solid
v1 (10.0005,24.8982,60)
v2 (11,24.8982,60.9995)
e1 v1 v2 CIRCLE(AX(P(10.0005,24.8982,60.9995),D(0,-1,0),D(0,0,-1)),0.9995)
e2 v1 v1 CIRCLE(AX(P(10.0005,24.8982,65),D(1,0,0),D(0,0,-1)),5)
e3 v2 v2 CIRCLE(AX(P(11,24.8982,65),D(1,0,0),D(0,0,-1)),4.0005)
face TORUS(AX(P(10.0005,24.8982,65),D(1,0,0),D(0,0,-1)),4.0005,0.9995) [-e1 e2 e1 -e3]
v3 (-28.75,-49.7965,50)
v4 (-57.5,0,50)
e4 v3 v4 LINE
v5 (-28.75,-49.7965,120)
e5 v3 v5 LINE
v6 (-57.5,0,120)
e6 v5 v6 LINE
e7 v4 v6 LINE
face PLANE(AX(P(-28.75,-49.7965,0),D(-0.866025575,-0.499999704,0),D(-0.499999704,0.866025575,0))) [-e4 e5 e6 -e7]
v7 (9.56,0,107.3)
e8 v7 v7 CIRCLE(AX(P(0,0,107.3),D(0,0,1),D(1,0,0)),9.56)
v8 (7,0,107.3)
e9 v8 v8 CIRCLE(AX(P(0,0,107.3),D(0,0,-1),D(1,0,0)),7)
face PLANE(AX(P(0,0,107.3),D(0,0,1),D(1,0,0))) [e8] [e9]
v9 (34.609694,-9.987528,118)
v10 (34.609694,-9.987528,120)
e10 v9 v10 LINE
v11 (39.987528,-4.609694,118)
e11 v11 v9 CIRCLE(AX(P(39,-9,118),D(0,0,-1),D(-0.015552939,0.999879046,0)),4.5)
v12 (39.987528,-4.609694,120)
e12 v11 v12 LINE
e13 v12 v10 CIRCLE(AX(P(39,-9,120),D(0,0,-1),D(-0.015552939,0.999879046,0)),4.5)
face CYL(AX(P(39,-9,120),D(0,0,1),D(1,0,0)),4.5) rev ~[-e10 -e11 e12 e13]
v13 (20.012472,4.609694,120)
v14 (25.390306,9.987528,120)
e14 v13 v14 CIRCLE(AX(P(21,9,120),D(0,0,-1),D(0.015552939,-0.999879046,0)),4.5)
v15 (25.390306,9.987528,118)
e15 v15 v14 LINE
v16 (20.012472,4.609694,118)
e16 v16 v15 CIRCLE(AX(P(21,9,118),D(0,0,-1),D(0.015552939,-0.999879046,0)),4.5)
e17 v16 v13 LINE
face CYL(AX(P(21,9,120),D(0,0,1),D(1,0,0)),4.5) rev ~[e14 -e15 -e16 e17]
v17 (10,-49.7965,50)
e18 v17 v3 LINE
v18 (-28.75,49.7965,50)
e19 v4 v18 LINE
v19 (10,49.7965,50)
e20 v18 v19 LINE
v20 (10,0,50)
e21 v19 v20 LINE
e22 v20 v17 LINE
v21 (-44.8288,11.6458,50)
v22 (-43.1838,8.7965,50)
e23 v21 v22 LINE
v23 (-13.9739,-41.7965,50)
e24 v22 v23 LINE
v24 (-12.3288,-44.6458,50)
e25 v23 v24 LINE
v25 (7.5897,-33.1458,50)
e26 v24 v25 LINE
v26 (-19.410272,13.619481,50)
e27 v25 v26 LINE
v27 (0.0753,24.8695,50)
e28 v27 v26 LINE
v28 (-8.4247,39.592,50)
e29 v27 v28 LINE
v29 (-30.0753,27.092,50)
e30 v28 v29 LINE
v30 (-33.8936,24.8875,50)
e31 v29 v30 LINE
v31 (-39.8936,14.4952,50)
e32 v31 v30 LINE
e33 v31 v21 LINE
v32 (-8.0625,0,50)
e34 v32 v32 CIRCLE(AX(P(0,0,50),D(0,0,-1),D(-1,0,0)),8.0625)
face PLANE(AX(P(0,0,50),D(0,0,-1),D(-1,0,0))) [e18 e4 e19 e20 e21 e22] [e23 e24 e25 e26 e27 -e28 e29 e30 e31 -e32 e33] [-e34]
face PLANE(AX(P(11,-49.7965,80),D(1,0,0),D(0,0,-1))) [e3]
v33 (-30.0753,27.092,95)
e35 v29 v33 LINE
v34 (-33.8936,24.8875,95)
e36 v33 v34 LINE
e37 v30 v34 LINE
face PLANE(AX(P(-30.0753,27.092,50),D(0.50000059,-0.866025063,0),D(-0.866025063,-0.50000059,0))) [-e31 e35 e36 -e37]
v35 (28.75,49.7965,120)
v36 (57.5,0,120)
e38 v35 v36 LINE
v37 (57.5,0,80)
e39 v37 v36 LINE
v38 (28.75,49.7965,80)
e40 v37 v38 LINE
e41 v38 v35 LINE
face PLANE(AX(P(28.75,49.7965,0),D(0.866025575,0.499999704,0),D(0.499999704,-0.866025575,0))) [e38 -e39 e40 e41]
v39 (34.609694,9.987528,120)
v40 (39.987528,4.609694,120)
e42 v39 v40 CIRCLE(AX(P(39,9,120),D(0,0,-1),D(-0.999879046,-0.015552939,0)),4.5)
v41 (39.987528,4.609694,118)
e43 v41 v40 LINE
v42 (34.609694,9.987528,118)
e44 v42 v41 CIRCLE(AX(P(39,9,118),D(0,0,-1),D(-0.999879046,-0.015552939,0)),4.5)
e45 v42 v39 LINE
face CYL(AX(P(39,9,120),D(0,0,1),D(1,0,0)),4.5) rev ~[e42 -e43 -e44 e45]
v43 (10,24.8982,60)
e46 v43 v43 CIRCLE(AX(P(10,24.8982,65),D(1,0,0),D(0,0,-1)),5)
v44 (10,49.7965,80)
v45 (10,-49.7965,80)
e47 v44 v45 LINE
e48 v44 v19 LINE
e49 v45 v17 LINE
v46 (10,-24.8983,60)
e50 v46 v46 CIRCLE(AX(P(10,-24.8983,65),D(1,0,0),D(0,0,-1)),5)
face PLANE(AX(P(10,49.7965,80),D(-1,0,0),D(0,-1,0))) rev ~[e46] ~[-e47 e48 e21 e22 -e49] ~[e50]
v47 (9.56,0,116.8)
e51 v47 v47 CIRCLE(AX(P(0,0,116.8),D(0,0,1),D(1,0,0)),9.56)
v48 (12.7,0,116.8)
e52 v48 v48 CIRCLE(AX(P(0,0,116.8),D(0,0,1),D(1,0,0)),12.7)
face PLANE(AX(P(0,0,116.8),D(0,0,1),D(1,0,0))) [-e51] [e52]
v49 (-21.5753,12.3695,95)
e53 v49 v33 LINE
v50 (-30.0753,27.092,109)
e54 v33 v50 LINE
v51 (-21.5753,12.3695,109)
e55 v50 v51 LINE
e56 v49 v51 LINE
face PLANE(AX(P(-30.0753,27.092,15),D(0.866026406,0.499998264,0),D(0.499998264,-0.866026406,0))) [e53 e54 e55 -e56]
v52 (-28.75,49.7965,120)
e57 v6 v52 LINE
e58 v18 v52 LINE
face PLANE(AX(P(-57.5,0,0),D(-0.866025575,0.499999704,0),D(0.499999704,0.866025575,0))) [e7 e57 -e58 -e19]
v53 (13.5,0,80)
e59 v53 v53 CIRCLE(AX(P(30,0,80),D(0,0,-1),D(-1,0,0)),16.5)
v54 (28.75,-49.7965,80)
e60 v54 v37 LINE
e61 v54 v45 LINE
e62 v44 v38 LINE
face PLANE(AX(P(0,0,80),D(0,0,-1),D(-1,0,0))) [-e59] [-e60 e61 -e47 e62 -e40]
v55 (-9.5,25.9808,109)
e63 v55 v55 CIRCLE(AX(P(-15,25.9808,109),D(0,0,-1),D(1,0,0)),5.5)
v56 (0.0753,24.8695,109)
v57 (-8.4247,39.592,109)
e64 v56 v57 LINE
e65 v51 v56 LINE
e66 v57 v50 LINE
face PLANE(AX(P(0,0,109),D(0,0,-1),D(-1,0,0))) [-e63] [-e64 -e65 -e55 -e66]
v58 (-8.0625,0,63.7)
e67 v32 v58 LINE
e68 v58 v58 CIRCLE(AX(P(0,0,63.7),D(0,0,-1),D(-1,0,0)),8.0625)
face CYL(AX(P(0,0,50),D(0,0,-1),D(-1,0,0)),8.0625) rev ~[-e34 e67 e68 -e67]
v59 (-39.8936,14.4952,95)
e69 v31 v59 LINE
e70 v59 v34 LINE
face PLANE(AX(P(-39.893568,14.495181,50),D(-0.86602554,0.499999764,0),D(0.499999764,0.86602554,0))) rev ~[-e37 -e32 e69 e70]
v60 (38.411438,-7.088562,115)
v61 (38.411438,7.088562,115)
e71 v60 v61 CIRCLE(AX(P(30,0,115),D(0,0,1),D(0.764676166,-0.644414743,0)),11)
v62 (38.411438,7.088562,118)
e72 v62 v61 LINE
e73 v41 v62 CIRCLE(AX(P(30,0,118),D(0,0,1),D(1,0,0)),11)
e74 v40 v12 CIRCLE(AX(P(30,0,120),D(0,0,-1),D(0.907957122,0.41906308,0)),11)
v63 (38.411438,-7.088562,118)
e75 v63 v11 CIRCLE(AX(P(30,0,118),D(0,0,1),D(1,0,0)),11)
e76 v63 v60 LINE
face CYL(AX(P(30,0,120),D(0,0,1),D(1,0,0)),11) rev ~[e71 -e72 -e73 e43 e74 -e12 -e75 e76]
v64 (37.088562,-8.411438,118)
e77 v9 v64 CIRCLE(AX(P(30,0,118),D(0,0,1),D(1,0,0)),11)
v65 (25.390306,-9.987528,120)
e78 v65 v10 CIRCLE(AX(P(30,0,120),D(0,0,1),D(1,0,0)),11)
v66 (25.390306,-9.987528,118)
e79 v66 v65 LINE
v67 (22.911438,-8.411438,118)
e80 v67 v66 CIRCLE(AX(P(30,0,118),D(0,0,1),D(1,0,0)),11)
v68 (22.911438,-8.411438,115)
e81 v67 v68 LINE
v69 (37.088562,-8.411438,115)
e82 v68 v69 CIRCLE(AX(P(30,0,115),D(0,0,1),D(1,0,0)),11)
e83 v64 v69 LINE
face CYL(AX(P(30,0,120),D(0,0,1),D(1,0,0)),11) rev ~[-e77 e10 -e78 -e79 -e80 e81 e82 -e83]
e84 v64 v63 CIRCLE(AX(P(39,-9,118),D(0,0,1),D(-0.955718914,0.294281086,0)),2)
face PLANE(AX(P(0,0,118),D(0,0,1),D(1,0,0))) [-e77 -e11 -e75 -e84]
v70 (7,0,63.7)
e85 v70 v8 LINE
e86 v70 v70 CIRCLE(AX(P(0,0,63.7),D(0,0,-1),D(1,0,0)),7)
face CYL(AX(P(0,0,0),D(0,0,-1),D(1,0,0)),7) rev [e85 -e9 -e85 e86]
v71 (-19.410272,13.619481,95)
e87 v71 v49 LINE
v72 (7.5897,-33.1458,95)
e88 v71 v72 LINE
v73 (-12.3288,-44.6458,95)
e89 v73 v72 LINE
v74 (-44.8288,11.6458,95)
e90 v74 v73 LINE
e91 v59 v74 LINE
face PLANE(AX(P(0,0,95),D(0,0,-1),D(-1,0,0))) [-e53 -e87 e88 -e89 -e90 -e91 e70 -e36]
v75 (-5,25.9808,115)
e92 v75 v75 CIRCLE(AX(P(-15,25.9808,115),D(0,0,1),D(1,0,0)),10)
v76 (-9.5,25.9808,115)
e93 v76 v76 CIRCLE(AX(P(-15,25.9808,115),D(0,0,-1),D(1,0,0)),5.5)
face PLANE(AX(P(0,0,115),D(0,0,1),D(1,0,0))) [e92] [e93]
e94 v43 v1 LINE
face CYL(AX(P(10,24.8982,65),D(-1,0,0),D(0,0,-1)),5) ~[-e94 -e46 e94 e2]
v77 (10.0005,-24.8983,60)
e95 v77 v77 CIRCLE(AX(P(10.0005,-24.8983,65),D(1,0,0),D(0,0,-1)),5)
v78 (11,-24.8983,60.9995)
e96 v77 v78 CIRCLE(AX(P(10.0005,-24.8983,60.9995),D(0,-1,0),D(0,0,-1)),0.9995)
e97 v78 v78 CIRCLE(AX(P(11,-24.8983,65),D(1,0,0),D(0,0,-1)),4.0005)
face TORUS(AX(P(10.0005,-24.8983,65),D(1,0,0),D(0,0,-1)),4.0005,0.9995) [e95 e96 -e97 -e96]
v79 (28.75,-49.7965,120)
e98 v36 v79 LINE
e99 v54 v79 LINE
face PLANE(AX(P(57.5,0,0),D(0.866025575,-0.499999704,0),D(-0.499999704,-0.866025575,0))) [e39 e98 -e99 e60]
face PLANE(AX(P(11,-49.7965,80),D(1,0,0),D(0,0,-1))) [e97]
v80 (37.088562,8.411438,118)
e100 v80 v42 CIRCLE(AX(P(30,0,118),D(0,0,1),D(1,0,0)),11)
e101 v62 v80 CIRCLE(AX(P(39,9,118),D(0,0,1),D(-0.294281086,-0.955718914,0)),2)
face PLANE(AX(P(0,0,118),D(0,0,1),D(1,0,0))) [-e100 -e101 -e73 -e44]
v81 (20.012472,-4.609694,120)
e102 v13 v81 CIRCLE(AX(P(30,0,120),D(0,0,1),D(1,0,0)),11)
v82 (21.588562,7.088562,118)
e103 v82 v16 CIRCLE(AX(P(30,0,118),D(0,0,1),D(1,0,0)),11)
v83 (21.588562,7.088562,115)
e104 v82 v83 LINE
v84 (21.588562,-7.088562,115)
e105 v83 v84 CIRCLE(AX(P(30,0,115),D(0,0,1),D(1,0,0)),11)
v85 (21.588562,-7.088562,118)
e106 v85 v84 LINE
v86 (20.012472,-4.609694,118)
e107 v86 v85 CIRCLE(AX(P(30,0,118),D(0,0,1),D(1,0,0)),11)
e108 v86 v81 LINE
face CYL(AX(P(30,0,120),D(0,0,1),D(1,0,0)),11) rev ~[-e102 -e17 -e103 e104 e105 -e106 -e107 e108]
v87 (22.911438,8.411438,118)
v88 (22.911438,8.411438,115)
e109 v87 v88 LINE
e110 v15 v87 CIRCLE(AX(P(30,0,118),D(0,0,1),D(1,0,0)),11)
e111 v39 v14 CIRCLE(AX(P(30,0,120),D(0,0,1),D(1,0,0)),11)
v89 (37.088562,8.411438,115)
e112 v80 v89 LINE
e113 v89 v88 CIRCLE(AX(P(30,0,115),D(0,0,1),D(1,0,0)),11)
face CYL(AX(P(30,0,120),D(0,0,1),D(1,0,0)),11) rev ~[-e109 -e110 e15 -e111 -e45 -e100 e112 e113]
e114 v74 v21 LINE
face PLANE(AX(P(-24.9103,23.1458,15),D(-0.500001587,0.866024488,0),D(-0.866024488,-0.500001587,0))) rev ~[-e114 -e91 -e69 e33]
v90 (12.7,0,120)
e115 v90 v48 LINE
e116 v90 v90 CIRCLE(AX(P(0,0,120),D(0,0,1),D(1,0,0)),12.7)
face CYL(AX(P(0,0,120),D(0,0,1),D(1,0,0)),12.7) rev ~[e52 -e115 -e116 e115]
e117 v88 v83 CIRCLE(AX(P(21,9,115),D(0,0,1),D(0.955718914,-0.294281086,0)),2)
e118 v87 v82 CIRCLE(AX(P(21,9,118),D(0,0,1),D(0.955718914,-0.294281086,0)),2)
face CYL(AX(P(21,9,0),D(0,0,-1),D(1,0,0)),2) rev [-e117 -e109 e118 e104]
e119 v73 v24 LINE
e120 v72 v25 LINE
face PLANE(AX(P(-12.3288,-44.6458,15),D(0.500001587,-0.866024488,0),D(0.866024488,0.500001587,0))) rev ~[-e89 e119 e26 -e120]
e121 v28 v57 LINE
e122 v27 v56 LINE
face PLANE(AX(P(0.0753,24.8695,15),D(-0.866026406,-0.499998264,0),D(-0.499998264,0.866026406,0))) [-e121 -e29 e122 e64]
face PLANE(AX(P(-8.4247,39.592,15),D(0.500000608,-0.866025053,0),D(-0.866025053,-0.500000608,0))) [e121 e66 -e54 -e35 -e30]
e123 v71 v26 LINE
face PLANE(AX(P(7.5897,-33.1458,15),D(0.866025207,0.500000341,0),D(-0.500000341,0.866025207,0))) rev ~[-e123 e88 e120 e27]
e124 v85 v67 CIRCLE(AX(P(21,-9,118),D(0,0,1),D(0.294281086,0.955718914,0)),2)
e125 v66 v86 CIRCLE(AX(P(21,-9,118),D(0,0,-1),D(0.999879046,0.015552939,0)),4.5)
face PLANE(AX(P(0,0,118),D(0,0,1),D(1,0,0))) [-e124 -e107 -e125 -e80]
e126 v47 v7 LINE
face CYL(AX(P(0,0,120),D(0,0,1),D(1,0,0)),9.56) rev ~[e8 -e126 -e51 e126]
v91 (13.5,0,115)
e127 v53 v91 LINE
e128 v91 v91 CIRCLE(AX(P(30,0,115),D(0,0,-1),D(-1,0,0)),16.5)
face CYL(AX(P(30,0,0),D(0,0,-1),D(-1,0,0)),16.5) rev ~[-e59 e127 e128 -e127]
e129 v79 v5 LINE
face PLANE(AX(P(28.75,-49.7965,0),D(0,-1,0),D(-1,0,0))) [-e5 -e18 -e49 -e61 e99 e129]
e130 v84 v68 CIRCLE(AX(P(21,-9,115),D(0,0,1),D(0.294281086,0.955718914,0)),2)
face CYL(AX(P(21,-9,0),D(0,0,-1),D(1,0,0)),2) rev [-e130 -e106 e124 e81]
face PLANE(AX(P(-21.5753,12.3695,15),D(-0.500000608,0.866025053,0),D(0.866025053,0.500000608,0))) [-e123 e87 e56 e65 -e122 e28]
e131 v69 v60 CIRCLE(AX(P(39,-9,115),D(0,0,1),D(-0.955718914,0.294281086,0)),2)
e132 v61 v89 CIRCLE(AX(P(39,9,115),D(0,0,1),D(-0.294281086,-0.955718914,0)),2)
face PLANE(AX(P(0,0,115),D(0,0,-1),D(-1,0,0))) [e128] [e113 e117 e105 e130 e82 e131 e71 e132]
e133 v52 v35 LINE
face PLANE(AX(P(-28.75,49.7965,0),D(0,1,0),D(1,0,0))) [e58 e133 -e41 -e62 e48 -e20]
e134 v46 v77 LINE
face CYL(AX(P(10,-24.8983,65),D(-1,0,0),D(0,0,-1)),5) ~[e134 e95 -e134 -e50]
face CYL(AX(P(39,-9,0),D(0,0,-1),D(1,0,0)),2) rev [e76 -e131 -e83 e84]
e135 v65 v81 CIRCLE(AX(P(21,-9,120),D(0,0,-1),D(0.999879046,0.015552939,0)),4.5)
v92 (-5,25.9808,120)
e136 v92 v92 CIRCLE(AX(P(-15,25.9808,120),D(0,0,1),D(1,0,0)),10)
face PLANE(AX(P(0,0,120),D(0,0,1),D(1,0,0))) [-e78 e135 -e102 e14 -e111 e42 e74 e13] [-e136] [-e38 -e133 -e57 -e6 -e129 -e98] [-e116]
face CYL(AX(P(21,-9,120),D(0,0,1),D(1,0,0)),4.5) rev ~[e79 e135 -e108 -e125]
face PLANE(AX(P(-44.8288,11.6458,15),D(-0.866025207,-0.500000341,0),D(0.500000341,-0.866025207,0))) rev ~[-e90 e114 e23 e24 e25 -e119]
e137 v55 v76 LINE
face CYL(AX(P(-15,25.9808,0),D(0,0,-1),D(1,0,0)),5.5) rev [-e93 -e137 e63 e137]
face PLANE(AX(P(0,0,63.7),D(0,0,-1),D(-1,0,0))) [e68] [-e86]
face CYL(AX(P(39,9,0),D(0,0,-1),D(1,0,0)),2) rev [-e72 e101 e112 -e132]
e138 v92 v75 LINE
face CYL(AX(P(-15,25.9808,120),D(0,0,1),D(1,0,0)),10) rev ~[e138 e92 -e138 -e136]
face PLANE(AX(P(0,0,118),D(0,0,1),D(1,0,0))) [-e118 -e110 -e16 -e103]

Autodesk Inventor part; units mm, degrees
ref_plane "YZ Plane" through (0, 0, 0) normal (1, 0, 0) x (0, 1, 0)
ref_plane "XZ Plane" through (0, 0, 0) normal (0, 1, 0) x (-1, 0, 0)
sketch "Sketch48" plane through (0, 0, 0) normal (0, 0, 1) x (1, 0, 0)
  line L0 (57.5, 0) -> (28.75, -49.7965)
  line L1 (28.75, -49.7965) -> (-28.75, -49.7965)
  line L2 (-28.75, -49.7965) -> (-57.5, 0)
  line L3 (-57.5, 0) -> (-28.75, 49.7965)
  line L4 (-28.75, 49.7965) -> (28.75, 49.7965)
  line L5 (28.75, 49.7965) -> (57.5, 0)
  circle A0 centre (0, 0) radius 7
  circle A1 centre (30, 0) radius 10 construction
  circle A2 centre (-15, 25.9808) radius 5.5
  line L6 (-15, 25.9808) -> (0, 0) construction
  line L7 (0, 0) -> (30, 0) construction
  line L8 (25.6411, -9) -> (34.3589, -9)
  line L9 (25.6411, 9) -> (34.3589, 9)
  arc A3 (25.6411, 9) -> (25.6411, -9) centre (30, 0) ccw
  arc A4 (34.3589, -9) -> (34.3589, 9) centre (30, 0) ccw
  line L10 (21, 9) -> (39, 9) construction
  line L11 (39, 9) -> (39, -9) construction
  line L12 (39, -9) -> (21, -9) construction
  line L13 (21, -9) -> (21, 9) construction
  circle A5 centre (21, 9) radius 2
  circle A6 centre (21, -9) radius 2
  circle A7 centre (39, -9) radius 2
  circle A8 centre (39, 9) radius 2
  point P0 (30, 9)
  point P1 (39, 0)
  dimension "d220" = 115
  dimension "d221" = 14
  dimension "d222" = 30
  dimension "d224" = 30
  dimension "d225" = 120
  dimension "d227" = 11
  dimension "d228" = 20
  dimension "d229" = 18
  dimension "d232" = 18
  dimension "d233" = 18
  dimension "d234" = 4
  dimension "d235" = 4
  dimension "d236" = 4
  dimension "d237" = 4
extrude "Extrusion43" add sketch "Sketch48" along normal blind 120
sketch "Sketch49" plane through (0, 0, 0) normal (0, 0, -1) x (-1, 0, 0)
  arc A0 (-34.3589, 9) -> (-34.3589, -9) centre (-30, 0) ccw projected
  circle A1 centre (-30, 0) radius 16.5
  point P0 (0, 0)
  dimension "d238" = 33
extrude "Extrusion44" cut sketch "Sketch49" against normal blind 115
sketch "Sketch50" plane through (0, 0, 0) normal (0, 0, -1) x (-1, 0, 0)
  arc A0 (-34.3589, 9) -> (-34.3589, -9) centre (-30, 0) ccw projected
  circle A1 centre (-30, 0) radius 20
  point P0 (0, 0)
  dimension "d241" = 40
extrude "Extrusion45" cut sketch "Sketch50" against normal blind 75
sketch "Sketch51" plane through (0, 0, 120) normal (0, 0, 1) x (1, 0, 0)
  circle A0 centre (21, 9) radius 2 projected
  arc A1 (25.6411, 9) -> (25.6411, -9) centre (30, 0) ccw projected
  circle A2 centre (21, 9) radius 4.5
  circle A3 centre (21, -9) radius 4.5
  circle A4 centre (39, -9) radius 4.5
  circle A5 centre (39, 9) radius 4.5
  point P0 (0, 0)
  dimension "d244" = 9
  dimension "d247" = 360
extrude "Extrusion46" cut sketch "Sketch51" against normal blind 2 contours A0 | A2 A1 | A3 A1 | A1 A3 | A1 A2 | A4 | A5
sketch "Sketch53" plane through (0, 0, 120) normal (0, 0, 1) x (1, 0, 0)
  circle A0 centre (-15, 25.9808) radius 5.5 projected
  circle A1 centre (-15, 25.9808) radius 10
  point P0 (0, 0)
  dimension "d251" = 20
extrude "Extrusion47" cut sketch "Sketch53" against normal blind 5 contours A0 | A1
sketch "Sketch54" plane through (0, 0, 120) normal (0, 0, 1) x (1, 0, 0)
  circle A0 centre (0, 0) radius 12.7
  dimension "d254" = 25.4
extrude "Extrusion48" cut sketch "Sketch54" against normal blind 3.2
sketch "Sketch55" plane through (0, 0, 120) normal (0, 0, 1) x (1, 0, 0)
  circle A0 centre (0, 0) radius 9.56
  dimension "d257" = 19.12
extrude "Extrusion49" cut sketch "Sketch55" against normal blind 12.7
sketch "Sketch56" plane through (0, 0, 0) normal (0, 0, -1) x (-1, 0, 0)
  line L0 (57.5, 0) -> (28.75, 49.7965) projected
  line L1 (28.75, -49.7965) -> (57.5, 0) projected
  line L2 (-28.75, -49.7965) -> (28.75, -49.7965) projected
  line L3 (-57.5, 0) -> (-28.75, -49.7965) projected
  line L4 (-28.75, 49.7965) -> (-57.5, 0) projected
  line L5 (28.75, 49.7965) -> (-28.75, 49.7965) projected
  line L6 (-24.1312, 41.7965) -> (-48.2624, 0)
  line L7 (-48.2624, 0) -> (-24.1312, -41.7965)
  line L8 (-24.1312, -41.7965) -> (24.1312, -41.7965)
  line L9 (24.1312, -41.7965) -> (48.2624, 0)
  line L10 (48.2624, 0) -> (24.1312, 41.7965)
  line L11 (24.1312, 41.7965) -> (-24.1312, 41.7965)
  point P0 (0, 0)
  dimension "d260" = 8
extrude "Extrusion50" cut sketch "Sketch56" against normal blind 15 contours L11 L10 L9 L8 L7 L6
sketch "Sketch57" plane through (0, 0, 15) normal (0, 0, -1) x (-1, 0, 0)
  circle A0 centre (0, 0) radius 9.56 projected
extrude "Extrusion51" cut sketch "Sketch57" against normal blind 10
sketch "Sketch58" plane through (0, 0, 0) normal (0, 0, -1) x (-1, 0, 0)
  circle A0 centre (-26.4406, -45.7965) radius 2.5
  line L0 (-28.75, -49.7965) -> (28.75, -49.7965) construction
  line L1 (-28.75, -49.7965) -> (-24.1312, -41.7965) construction
  circle A1 centre (26.4406, -45.7965) radius 2.5
  circle A2 centre (52.8812, 0) radius 2.5
  circle A3 centre (26.4406, 45.7965) radius 2.5
  circle A4 centre (-26.4406, 45.7965) radius 2.5
  circle A5 centre (-52.8812, 0) radius 2.5
  point P0 (0, 0)
  dimension "d265" = 5
  dimension "d268" = 360
extrude "Extrusion52" cut sketch "Sketch58" against normal blind 50
sketch "Sketch59" plane through (0, 0, 0) normal (0, 0, -1) x (-1, 0, 0)
  line L0 (-24.1312, 41.7965) -> (24.1312, 41.7965) construction
  line L1 (28.75, 49.7965) -> (-28.75, 49.7965) construction
  line L2 (0, 41.7965) -> (0, 49.7965) construction
  circle A0 centre (0, 45.7965) radius 2.5
  circle A1 centre (-39.6609, 22.8982) radius 2.5
  circle A2 centre (-39.6609, -22.8982) radius 2.5
  circle A3 centre (0, -45.7965) radius 2.5
  circle A4 centre (39.6609, -22.8982) radius 2.5
  circle A5 centre (39.6609, 22.8982) radius 2.5
  point P0 (0, 0)
  dimension "d272" = 5
  dimension "d275" = 360
extrude "Extrusion53" cut sketch "Sketch59" against normal blind 35
sketch "Sketch60" plane through (0, 0, 15) normal (0, 0, -1) x (-1, 0, 0)
  circle A0 centre (15, 25.9808) radius 5.5 construction
  line L0 (21.5753, 12.3695) -> (-0.0753, 24.8695)
  line L1 (-0.0753, 24.8695) -> (8.4247, 39.592)
  line L2 (8.4247, 39.592) -> (30.0753, 27.092)
  line L3 (30.0753, 27.092) -> (21.5753, 12.3695)
  line L4 (21.5753, 12.3695) -> (8.4247, 39.592) construction
  line L5 (-0.0753, 24.8695) -> (30.0753, 27.092) construction
  line L6 (0, 0) -> (15, 25.9808) construction
  point P0 (10.75, 18.6195)
  dimension "d279" = 17
  dimension "d280" = 25
extrude "Extrusion54" cut sketch "Sketch60" against normal blind 94
sketch "Sketch61" plane through (0, 0, 15) normal (0, 0, -1) x (-1, 0, 0)
  line L0 (-7.5897, -33.1458) -> (24.9103, 23.1458)
  line L1 (24.9103, 23.1458) -> (44.8288, 11.6458)
  line L2 (44.8288, 11.6458) -> (12.3288, -44.6458)
  line L3 (12.3288, -44.6458) -> (-7.5897, -33.1458)
  line L4 (-7.5897, -33.1458) -> (44.8288, 11.6458) construction
  line L5 (24.9103, 23.1458) -> (12.3288, -44.6458) construction
  line L6 (18.6195, -10.75) -> (0, 0)
  line L7 (0, 0) -> (0, 4.3773)
  point P0 (8.6603, -5)
  dimension "d283" = 65
  dimension "d284" = 23
  dimension "d285" = 10
  dimension "d286" = 120
extrude "Extrusion55" cut sketch "Sketch61" along normal blind 15 and the other way blind 80
sketch "Sketch62" plane through (0, 0, 15) normal (0, 0, -1) x (-1, 0, 0)
  line L0 (0, 0) -> (-17.5, 30.3109) construction
  circle A0 centre (-17.5, 30.3109) radius 2.5
  line L1 (57.5, 0) -> (28.75, -49.7965) construction
  line L2 (0, 0) -> (57.5, 0) construction
  circle A1 centre (-17.5, -30.3109) radius 2.5
  circle A2 centre (35, 0) radius 2.5
  dimension "d291" = 5
  dimension "d292" = 35
  dimension "d293" = 120
  dimension "d296" = 360
extrude "Extrusion56" cut sketch "Sketch62" against normal blind 35 contours A0 | A1
sketch "Sketch63" plane through (0, 0, 0) normal (1, 0, 0) x (0, 1, 0)
  line L0 (-41.7965, 15) -> (-41.7965, 0) projected
  line L1 (-41.7965, 0) -> (-41.7965, 15) projected
  line L2 (8.7965, 15) -> (-41.7965, 15) projected
  line L3 (0, 15) -> (-41.7965, 15) projected
  line L4 (8.7965, 15) -> (0, 15) projected
  line L5 (-25.7965, 15) -> (-38.7965, 15)
  line L6 (-38.7965, 15) -> (-38.7965, 4)
  line L7 (-38.7965, 4) -> (-25.7965, 4)
  line L8 (-25.7965, 4) -> (-25.7965, 15)
  point P0 (0, 0)
  dimension "d300" = 13
  dimension "d301" = 11
  dimension "d302" = 3
extrude "Extrusion57" cut sketch "Sketch63" against normal through all
sketch "Sketch64" plane through (0, 0, 15) normal (0, 0, -1) x (-1, 0, 0)
  line L0 (-57.5, 0) -> (-28.75, -49.7965) projected
  line L1 (-28.75, -49.7965) -> (28.75, -49.7965) projected
  line L2 (28.75, -49.7965) -> (57.5, 0) projected
  line L3 (57.5, 0) -> (28.75, 49.7965) projected
  line L4 (28.75, 49.7965) -> (-28.75, 49.7965) projected
  line L5 (-28.75, 49.7965) -> (-57.5, 0) projected
  circle A0 centre (26.4406, 45.7965) radius 2.5 projected
  circle A1 centre (26.4406, -45.7965) radius 2.5 projected
  circle A2 centre (-26.4406, -45.7965) radius 2.5 projected
  circle A3 centre (52.8812, 0) radius 2.5 projected
  circle A4 centre (-26.4406, 45.7965) radius 2.5 projected
  line L6 (39.8936, 14.4952) -> (44.8288, 11.6458) projected
  line L7 (44.8288, 11.6458) -> (43.1838, 8.7965) projected
  line L8 (43.1838, 8.7965) -> (48.2624, 0) projected
  line L9 (48.2624, 0) -> (24.1312, -41.7965) projected
  line L10 (24.1312, -41.7965) -> (13.9739, -41.7965) projected
  line L11 (13.9739, -41.7965) -> (12.3288, -44.6458) projected
  line L12 (12.3288, -44.6458) -> (7.3936, -41.7965) projected
  line L13 (7.3936, -41.7965) -> (-24.1312, -41.7965) projected
  line L14 (-24.1312, -41.7965) -> (-37.5759, -18.5096) projected
  arc A5 (-37.5759, 18.5096) -> (-37.5759, -18.5096) centre (-30, 0) ccw projected
  circle A6 centre (-52.8812, 0) radius 2.5 projected
  line L15 (-37.5759, 18.5096) -> (-24.1312, 41.7965) projected
  line L16 (-24.1312, 41.7965) -> (24.1312, 41.7965) projected
  line L17 (24.1312, 41.7965) -> (39.8936, 14.4952) projected
  circle A7 centre (39.6609, 22.8982) radius 2.5 projected
  circle A8 centre (0, -45.7965) radius 2.5 projected
  circle A9 centre (-39.6609, 22.8982) radius 2.5 projected
  circle A10 centre (0, 45.7965) radius 2.5 projected
  circle A11 centre (-39.6609, -22.8982) radius 2.5 projected
  circle A12 centre (39.6609, -22.8982) radius 2.5 projected
  circle A13 centre (-17.5, 30.3109) radius 2.5 projected
  circle A14 centre (-17.5, -30.3109) radius 2.5 projected
  line L18 (27.0753, 21.8958) -> (39.8936, 14.4952) projected
  line L19 (24.1312, 41.7965) -> (39.8936, 14.4952) projected
  line L20 (-24.1312, 41.7965) -> (24.1312, 41.7965) projected
  line L21 (-37.5759, 18.5096) -> (-24.1312, 41.7965) projected
  arc A15 (-37.5759, -18.5096) -> (-37.5759, 18.5096) centre (-30, 0) ccw projected
  line L22 (-24.1312, -41.7965) -> (-37.5759, -18.5096) projected
  line L23 (7.3936, -41.7965) -> (-24.1312, -41.7965) projected
  line L24 (7.3936, -41.7965) -> (-7.5897, -33.1458) projected
  line L25 (-7.5897, -33.1458) -> (19.4103, 13.6195) projected
  line L26 (19.4103, 13.6195) -> (-0.0753, 24.8695) projected
  line L27 (-0.0753, 24.8695) -> (8.4247, 39.592) projected
  line L28 (8.4247, 39.592) -> (30.0753, 27.092) projected
  line L29 (30.0753, 27.092) -> (27.0753, 21.8958) projected
  circle A16 centre (0, 0) radius 9.56 projected
  line L30 (-23.6506, -37.5) -> (21.3494, -37.5)
  line L31 (21.3494, -37.5) -> (43, 0)
  line L32 (43, 0) -> (21.3494, 37.5)
  line L33 (21.3494, 37.5) -> (-23.6506, 37.5)
  line L34 (-23.6506, 37.5) -> (-23.6506, 15.5)
  line L35 (-23.6506, -37.5) -> (-23.6506, -15.5)
  line L36 (-23.6506, -15.5) -> (16.3494, -15.5)
  line L37 (16.3494, -15.5) -> (16.3494, 15.5)
  line L38 (16.3494, 15.5) -> (-23.6506, 15.5)
  circle A17 centre (16.3494, 32.5) radius 1.5
  dimension "d305" = 45
  dimension "d307" = 120
  dimension "d308" = 22
  dimension "d309" = 75
  dimension "d310" = 45
  dimension "d311" = 37.5
  dimension "d312" = 22
  dimension "d313" = 40
  dimension "d314" = 3
  dimension "d315" = 5
  dimension "d316" = 5
ref_plane "Work Plane2" through (0, 0, 80) normal (0, 0, -1) x (-1, 0, 0)
sketch "Sketch66" plane through (0, 0, 80) normal (0, 0, -1) x (-1, 0, 0)
  line L0 (28.75, 49.7965) -> (-28.75, 49.7965) projected
  line L1 (-10, 49.7965) -> (-10, -49.7965)
  line L2 (-57.5, 0) -> (-28.75, 49.7965) projected
  line L3 (-28.75, -49.7965) -> (-57.5, 0) projected
  line L4 (-28.75, -49.7965) -> (-10, -49.7965)
  line L5 (28.75, -49.7965) -> (-28.75, -49.7965) projected
  line L6 (-28.75, 49.7965) -> (-10, 49.7965)
  line L7 (-28.75, 49.7965) -> (28.75, 49.7965) projected
  point P0 (0, 0)
  dimension "d318" = 10
extrude "Extrusion58" cut sketch "Sketch66" along normal through all
sketch "Sketch67" plane through (0, 0, 0) normal (0, 0, -1) x (-1, 0, 0)
  circle A0 centre (0, 0) radius 9.56 projected
  line L0 (-10, 41.7965) -> (-10, -41.7965) projected
  line L1 (7.3936, -41.7965) -> (-10, -41.7965) projected
  line L2 (7.3936, -41.7965) -> (-7.5897, -33.1458) projected
  line L3 (-7.5897, -33.1458) -> (19.4103, 13.6195) projected
  line L4 (19.4103, 13.6195) -> (-0.0753, 24.8695) projected
  line L5 (-0.0753, 24.8695) -> (8.4247, 39.592) projected
  line L6 (8.4247, 39.592) -> (30.0753, 27.092) projected
  line L7 (30.0753, 27.092) -> (27.0753, 21.8958) projected
  line L8 (27.0753, 21.8958) -> (39.8936, 14.4952) projected
  line L9 (24.1312, 41.7965) -> (39.8936, 14.4952) projected
  line L10 (-10, 41.7965) -> (24.1312, 41.7965) projected
  line L11 (21.5753, 12.3695) -> (27.0753, 21.8958) projected
  line L12 (19.4103, 13.6195) -> (21.5753, 12.3695) projected
  line L13 (-7.5897, -33.1458) -> (19.4103, 13.6195) projected
  line L14 (12.3288, -44.6458) -> (-7.5897, -33.1458) projected
  line L15 (44.8288, 11.6458) -> (12.3288, -44.6458) projected
  line L16 (27.0753, 21.8958) -> (44.8288, 11.6458) projected
  circle A1 centre (39.6609, -22.8982) radius 2.5 projected
  circle A2 centre (0, 45.7965) radius 2.5 projected
  circle A3 centre (0, -45.7965) radius 2.5 projected
  circle A4 centre (39.6609, 22.8982) radius 2.5 projected
  line L17 (-10, 49.7965) -> (-10, 41.7965) projected
  line L18 (-10, 41.7965) -> (24.1312, 41.7965) projected
  line L19 (24.1312, 41.7965) -> (39.8936, 14.4952) projected
  line L20 (39.8936, 14.4952) -> (44.8288, 11.6458) projected
  line L21 (44.8288, 11.6458) -> (43.1838, 8.7965) projected
  line L22 (43.1838, 8.7965) -> (48.2624, 0) projected
  line L23 (48.2624, 0) -> (24.1312, -41.7965) projected
  line L24 (24.1312, -41.7965) -> (13.9739, -41.7965) projected
  line L25 (13.9739, -41.7965) -> (12.3288, -44.6458) projected
  line L26 (12.3288, -44.6458) -> (7.3936, -41.7965) projected
  line L27 (7.3936, -41.7965) -> (-10, -41.7965) projected
  line L28 (-10, -41.7965) -> (-10, -49.7965) projected
  line L29 (-10, -49.7965) -> (28.75, -49.7965) projected
  line L30 (28.75, -49.7965) -> (57.5, 0) projected
  line L31 (57.5, 0) -> (28.75, 49.7965) projected
  line L32 (28.75, 49.7965) -> (-10, 49.7965) projected
  circle A5 centre (52.8812, 0) radius 2.5 projected
  circle A6 centre (26.4406, -45.7965) radius 2.5 projected
  circle A7 centre (26.4406, 45.7965) radius 2.5 projected
extrude "Extrusion59" cut sketch "Sketch67" against normal blind 50 contours A0 | L10 L9 L8 L7 L6 L5 L4 L3 L2 L1 L0 | L17 L32 L31 L30 L29 L28 L1 L14 L15 L24 L23 L22 L16 L9 L10 | L2 L3 L12 L11 L8 L16 L15 L14 | A1 | A2 | A3 | A4 | A5 | A6 | A7
sketch "Sketch68" plane through (0, 0, 50) normal (0, 0, -1) x (-1, 0, 0)
  line L0 (48.2624, 0) -> (24.1312, -41.7965) projected
  line L1 (43.1838, 8.7965) -> (48.2624, 0) projected
  line L2 (43.1838, 8.7965) -> (13.9739, -41.7965) projected
  line L3 (24.1312, -41.7965) -> (13.9739, -41.7965) projected
  point P0 (0, 0)
extrude "Extrusion60" cut sketch "Sketch68" along normal through all
sketch "Sketch69" plane through (0, 0, 50) normal (0, 0, -1) x (-1, 0, 0)
  circle A0 centre (0, 0) radius 8.0625
  dimension "d335" = 16.125
extrude "Extrusion61" cut sketch "Sketch69" against normal blind 13.7
sketch "Sketch70" plane through (10, -49.7965, 80) normal (1, 0, 0) x (0, 0, -1)
  line L0 (0, 99.5929) -> (30, 99.5929) projected
  line L1 (30, 49.7965) -> (-40, 49.7965) projected
  line L2 (30, 99.5929) -> (30, 49.7965)
  circle A0 centre (15, 74.6947) radius 5
  line L3 (-40, 49.7965) -> (-40, 99.5929) projected
  circle A1 centre (15, 24.8982) radius 5
  line L4 (30, 0) -> (-40, 0) projected
  line L5 (30, 49.7965) -> (30, 0)
  point P0 (80, 49.7965)
  point P1 (15, 99.5929)
  point P2 (30, 74.6947)
  point P3 (30, 24.8982)
  dimension "d327" = 10
  dimension "d328" = 10
extrude "Extrusion62" add sketch "Sketch70" along normal blind 1
fillet "Fillet1" radius 1 2 edges at (11, 24.8982, 70) (11, -24.8982, 70)
sketch "Sketch72" plane through (0, 0, 50) normal (0, 0, -1) x (-1, 0, 0)
  line L0 (49.3681, -1.9152) -> (21.9613, 45.5548)
  line L1 (28.75, 49.7965) -> (57.5, 0) projected
  line L2 (8.4247, 39.592) -> (30.0753, 27.092) projected
  line L3 (30.0753, 27.092) -> (33.8936, 24.8875)
  line L4 (27.0753, 21.8958) -> (44.8288, 11.6458) projected
  line L5 (39.8936, 14.4952) -> (33.8936, 24.8875)
  line L6 (39.8936, 14.4952) -> (27.0753, 21.8958)
  line L7 (30.0753, 27.092) -> (21.5753, 12.3695) projected
  line L8 (27.0753, 21.8958) -> (30.0753, 27.092)
  point P0 (0, 0)
  dimension "d332" = 8
extrude "Extrusion63" cut sketch "Sketch72" against normal blind 45
sketch "Sketch73" plane through (0, 0, 120) normal (0, 0, 1) x (1, 0, 0)
  arc A0 (21.07, 4.5005) -> (21.07, -4.5005) centre (30, 0) ccw projected
  circle A1 centre (30, 0) radius 11
  point P0 (0, 0)
  dimension "d336" = 22
extrude "Extrusion64" cut sketch "Sketch73" against normal through all
properties part number "TA02" material "ABS Plastic"
